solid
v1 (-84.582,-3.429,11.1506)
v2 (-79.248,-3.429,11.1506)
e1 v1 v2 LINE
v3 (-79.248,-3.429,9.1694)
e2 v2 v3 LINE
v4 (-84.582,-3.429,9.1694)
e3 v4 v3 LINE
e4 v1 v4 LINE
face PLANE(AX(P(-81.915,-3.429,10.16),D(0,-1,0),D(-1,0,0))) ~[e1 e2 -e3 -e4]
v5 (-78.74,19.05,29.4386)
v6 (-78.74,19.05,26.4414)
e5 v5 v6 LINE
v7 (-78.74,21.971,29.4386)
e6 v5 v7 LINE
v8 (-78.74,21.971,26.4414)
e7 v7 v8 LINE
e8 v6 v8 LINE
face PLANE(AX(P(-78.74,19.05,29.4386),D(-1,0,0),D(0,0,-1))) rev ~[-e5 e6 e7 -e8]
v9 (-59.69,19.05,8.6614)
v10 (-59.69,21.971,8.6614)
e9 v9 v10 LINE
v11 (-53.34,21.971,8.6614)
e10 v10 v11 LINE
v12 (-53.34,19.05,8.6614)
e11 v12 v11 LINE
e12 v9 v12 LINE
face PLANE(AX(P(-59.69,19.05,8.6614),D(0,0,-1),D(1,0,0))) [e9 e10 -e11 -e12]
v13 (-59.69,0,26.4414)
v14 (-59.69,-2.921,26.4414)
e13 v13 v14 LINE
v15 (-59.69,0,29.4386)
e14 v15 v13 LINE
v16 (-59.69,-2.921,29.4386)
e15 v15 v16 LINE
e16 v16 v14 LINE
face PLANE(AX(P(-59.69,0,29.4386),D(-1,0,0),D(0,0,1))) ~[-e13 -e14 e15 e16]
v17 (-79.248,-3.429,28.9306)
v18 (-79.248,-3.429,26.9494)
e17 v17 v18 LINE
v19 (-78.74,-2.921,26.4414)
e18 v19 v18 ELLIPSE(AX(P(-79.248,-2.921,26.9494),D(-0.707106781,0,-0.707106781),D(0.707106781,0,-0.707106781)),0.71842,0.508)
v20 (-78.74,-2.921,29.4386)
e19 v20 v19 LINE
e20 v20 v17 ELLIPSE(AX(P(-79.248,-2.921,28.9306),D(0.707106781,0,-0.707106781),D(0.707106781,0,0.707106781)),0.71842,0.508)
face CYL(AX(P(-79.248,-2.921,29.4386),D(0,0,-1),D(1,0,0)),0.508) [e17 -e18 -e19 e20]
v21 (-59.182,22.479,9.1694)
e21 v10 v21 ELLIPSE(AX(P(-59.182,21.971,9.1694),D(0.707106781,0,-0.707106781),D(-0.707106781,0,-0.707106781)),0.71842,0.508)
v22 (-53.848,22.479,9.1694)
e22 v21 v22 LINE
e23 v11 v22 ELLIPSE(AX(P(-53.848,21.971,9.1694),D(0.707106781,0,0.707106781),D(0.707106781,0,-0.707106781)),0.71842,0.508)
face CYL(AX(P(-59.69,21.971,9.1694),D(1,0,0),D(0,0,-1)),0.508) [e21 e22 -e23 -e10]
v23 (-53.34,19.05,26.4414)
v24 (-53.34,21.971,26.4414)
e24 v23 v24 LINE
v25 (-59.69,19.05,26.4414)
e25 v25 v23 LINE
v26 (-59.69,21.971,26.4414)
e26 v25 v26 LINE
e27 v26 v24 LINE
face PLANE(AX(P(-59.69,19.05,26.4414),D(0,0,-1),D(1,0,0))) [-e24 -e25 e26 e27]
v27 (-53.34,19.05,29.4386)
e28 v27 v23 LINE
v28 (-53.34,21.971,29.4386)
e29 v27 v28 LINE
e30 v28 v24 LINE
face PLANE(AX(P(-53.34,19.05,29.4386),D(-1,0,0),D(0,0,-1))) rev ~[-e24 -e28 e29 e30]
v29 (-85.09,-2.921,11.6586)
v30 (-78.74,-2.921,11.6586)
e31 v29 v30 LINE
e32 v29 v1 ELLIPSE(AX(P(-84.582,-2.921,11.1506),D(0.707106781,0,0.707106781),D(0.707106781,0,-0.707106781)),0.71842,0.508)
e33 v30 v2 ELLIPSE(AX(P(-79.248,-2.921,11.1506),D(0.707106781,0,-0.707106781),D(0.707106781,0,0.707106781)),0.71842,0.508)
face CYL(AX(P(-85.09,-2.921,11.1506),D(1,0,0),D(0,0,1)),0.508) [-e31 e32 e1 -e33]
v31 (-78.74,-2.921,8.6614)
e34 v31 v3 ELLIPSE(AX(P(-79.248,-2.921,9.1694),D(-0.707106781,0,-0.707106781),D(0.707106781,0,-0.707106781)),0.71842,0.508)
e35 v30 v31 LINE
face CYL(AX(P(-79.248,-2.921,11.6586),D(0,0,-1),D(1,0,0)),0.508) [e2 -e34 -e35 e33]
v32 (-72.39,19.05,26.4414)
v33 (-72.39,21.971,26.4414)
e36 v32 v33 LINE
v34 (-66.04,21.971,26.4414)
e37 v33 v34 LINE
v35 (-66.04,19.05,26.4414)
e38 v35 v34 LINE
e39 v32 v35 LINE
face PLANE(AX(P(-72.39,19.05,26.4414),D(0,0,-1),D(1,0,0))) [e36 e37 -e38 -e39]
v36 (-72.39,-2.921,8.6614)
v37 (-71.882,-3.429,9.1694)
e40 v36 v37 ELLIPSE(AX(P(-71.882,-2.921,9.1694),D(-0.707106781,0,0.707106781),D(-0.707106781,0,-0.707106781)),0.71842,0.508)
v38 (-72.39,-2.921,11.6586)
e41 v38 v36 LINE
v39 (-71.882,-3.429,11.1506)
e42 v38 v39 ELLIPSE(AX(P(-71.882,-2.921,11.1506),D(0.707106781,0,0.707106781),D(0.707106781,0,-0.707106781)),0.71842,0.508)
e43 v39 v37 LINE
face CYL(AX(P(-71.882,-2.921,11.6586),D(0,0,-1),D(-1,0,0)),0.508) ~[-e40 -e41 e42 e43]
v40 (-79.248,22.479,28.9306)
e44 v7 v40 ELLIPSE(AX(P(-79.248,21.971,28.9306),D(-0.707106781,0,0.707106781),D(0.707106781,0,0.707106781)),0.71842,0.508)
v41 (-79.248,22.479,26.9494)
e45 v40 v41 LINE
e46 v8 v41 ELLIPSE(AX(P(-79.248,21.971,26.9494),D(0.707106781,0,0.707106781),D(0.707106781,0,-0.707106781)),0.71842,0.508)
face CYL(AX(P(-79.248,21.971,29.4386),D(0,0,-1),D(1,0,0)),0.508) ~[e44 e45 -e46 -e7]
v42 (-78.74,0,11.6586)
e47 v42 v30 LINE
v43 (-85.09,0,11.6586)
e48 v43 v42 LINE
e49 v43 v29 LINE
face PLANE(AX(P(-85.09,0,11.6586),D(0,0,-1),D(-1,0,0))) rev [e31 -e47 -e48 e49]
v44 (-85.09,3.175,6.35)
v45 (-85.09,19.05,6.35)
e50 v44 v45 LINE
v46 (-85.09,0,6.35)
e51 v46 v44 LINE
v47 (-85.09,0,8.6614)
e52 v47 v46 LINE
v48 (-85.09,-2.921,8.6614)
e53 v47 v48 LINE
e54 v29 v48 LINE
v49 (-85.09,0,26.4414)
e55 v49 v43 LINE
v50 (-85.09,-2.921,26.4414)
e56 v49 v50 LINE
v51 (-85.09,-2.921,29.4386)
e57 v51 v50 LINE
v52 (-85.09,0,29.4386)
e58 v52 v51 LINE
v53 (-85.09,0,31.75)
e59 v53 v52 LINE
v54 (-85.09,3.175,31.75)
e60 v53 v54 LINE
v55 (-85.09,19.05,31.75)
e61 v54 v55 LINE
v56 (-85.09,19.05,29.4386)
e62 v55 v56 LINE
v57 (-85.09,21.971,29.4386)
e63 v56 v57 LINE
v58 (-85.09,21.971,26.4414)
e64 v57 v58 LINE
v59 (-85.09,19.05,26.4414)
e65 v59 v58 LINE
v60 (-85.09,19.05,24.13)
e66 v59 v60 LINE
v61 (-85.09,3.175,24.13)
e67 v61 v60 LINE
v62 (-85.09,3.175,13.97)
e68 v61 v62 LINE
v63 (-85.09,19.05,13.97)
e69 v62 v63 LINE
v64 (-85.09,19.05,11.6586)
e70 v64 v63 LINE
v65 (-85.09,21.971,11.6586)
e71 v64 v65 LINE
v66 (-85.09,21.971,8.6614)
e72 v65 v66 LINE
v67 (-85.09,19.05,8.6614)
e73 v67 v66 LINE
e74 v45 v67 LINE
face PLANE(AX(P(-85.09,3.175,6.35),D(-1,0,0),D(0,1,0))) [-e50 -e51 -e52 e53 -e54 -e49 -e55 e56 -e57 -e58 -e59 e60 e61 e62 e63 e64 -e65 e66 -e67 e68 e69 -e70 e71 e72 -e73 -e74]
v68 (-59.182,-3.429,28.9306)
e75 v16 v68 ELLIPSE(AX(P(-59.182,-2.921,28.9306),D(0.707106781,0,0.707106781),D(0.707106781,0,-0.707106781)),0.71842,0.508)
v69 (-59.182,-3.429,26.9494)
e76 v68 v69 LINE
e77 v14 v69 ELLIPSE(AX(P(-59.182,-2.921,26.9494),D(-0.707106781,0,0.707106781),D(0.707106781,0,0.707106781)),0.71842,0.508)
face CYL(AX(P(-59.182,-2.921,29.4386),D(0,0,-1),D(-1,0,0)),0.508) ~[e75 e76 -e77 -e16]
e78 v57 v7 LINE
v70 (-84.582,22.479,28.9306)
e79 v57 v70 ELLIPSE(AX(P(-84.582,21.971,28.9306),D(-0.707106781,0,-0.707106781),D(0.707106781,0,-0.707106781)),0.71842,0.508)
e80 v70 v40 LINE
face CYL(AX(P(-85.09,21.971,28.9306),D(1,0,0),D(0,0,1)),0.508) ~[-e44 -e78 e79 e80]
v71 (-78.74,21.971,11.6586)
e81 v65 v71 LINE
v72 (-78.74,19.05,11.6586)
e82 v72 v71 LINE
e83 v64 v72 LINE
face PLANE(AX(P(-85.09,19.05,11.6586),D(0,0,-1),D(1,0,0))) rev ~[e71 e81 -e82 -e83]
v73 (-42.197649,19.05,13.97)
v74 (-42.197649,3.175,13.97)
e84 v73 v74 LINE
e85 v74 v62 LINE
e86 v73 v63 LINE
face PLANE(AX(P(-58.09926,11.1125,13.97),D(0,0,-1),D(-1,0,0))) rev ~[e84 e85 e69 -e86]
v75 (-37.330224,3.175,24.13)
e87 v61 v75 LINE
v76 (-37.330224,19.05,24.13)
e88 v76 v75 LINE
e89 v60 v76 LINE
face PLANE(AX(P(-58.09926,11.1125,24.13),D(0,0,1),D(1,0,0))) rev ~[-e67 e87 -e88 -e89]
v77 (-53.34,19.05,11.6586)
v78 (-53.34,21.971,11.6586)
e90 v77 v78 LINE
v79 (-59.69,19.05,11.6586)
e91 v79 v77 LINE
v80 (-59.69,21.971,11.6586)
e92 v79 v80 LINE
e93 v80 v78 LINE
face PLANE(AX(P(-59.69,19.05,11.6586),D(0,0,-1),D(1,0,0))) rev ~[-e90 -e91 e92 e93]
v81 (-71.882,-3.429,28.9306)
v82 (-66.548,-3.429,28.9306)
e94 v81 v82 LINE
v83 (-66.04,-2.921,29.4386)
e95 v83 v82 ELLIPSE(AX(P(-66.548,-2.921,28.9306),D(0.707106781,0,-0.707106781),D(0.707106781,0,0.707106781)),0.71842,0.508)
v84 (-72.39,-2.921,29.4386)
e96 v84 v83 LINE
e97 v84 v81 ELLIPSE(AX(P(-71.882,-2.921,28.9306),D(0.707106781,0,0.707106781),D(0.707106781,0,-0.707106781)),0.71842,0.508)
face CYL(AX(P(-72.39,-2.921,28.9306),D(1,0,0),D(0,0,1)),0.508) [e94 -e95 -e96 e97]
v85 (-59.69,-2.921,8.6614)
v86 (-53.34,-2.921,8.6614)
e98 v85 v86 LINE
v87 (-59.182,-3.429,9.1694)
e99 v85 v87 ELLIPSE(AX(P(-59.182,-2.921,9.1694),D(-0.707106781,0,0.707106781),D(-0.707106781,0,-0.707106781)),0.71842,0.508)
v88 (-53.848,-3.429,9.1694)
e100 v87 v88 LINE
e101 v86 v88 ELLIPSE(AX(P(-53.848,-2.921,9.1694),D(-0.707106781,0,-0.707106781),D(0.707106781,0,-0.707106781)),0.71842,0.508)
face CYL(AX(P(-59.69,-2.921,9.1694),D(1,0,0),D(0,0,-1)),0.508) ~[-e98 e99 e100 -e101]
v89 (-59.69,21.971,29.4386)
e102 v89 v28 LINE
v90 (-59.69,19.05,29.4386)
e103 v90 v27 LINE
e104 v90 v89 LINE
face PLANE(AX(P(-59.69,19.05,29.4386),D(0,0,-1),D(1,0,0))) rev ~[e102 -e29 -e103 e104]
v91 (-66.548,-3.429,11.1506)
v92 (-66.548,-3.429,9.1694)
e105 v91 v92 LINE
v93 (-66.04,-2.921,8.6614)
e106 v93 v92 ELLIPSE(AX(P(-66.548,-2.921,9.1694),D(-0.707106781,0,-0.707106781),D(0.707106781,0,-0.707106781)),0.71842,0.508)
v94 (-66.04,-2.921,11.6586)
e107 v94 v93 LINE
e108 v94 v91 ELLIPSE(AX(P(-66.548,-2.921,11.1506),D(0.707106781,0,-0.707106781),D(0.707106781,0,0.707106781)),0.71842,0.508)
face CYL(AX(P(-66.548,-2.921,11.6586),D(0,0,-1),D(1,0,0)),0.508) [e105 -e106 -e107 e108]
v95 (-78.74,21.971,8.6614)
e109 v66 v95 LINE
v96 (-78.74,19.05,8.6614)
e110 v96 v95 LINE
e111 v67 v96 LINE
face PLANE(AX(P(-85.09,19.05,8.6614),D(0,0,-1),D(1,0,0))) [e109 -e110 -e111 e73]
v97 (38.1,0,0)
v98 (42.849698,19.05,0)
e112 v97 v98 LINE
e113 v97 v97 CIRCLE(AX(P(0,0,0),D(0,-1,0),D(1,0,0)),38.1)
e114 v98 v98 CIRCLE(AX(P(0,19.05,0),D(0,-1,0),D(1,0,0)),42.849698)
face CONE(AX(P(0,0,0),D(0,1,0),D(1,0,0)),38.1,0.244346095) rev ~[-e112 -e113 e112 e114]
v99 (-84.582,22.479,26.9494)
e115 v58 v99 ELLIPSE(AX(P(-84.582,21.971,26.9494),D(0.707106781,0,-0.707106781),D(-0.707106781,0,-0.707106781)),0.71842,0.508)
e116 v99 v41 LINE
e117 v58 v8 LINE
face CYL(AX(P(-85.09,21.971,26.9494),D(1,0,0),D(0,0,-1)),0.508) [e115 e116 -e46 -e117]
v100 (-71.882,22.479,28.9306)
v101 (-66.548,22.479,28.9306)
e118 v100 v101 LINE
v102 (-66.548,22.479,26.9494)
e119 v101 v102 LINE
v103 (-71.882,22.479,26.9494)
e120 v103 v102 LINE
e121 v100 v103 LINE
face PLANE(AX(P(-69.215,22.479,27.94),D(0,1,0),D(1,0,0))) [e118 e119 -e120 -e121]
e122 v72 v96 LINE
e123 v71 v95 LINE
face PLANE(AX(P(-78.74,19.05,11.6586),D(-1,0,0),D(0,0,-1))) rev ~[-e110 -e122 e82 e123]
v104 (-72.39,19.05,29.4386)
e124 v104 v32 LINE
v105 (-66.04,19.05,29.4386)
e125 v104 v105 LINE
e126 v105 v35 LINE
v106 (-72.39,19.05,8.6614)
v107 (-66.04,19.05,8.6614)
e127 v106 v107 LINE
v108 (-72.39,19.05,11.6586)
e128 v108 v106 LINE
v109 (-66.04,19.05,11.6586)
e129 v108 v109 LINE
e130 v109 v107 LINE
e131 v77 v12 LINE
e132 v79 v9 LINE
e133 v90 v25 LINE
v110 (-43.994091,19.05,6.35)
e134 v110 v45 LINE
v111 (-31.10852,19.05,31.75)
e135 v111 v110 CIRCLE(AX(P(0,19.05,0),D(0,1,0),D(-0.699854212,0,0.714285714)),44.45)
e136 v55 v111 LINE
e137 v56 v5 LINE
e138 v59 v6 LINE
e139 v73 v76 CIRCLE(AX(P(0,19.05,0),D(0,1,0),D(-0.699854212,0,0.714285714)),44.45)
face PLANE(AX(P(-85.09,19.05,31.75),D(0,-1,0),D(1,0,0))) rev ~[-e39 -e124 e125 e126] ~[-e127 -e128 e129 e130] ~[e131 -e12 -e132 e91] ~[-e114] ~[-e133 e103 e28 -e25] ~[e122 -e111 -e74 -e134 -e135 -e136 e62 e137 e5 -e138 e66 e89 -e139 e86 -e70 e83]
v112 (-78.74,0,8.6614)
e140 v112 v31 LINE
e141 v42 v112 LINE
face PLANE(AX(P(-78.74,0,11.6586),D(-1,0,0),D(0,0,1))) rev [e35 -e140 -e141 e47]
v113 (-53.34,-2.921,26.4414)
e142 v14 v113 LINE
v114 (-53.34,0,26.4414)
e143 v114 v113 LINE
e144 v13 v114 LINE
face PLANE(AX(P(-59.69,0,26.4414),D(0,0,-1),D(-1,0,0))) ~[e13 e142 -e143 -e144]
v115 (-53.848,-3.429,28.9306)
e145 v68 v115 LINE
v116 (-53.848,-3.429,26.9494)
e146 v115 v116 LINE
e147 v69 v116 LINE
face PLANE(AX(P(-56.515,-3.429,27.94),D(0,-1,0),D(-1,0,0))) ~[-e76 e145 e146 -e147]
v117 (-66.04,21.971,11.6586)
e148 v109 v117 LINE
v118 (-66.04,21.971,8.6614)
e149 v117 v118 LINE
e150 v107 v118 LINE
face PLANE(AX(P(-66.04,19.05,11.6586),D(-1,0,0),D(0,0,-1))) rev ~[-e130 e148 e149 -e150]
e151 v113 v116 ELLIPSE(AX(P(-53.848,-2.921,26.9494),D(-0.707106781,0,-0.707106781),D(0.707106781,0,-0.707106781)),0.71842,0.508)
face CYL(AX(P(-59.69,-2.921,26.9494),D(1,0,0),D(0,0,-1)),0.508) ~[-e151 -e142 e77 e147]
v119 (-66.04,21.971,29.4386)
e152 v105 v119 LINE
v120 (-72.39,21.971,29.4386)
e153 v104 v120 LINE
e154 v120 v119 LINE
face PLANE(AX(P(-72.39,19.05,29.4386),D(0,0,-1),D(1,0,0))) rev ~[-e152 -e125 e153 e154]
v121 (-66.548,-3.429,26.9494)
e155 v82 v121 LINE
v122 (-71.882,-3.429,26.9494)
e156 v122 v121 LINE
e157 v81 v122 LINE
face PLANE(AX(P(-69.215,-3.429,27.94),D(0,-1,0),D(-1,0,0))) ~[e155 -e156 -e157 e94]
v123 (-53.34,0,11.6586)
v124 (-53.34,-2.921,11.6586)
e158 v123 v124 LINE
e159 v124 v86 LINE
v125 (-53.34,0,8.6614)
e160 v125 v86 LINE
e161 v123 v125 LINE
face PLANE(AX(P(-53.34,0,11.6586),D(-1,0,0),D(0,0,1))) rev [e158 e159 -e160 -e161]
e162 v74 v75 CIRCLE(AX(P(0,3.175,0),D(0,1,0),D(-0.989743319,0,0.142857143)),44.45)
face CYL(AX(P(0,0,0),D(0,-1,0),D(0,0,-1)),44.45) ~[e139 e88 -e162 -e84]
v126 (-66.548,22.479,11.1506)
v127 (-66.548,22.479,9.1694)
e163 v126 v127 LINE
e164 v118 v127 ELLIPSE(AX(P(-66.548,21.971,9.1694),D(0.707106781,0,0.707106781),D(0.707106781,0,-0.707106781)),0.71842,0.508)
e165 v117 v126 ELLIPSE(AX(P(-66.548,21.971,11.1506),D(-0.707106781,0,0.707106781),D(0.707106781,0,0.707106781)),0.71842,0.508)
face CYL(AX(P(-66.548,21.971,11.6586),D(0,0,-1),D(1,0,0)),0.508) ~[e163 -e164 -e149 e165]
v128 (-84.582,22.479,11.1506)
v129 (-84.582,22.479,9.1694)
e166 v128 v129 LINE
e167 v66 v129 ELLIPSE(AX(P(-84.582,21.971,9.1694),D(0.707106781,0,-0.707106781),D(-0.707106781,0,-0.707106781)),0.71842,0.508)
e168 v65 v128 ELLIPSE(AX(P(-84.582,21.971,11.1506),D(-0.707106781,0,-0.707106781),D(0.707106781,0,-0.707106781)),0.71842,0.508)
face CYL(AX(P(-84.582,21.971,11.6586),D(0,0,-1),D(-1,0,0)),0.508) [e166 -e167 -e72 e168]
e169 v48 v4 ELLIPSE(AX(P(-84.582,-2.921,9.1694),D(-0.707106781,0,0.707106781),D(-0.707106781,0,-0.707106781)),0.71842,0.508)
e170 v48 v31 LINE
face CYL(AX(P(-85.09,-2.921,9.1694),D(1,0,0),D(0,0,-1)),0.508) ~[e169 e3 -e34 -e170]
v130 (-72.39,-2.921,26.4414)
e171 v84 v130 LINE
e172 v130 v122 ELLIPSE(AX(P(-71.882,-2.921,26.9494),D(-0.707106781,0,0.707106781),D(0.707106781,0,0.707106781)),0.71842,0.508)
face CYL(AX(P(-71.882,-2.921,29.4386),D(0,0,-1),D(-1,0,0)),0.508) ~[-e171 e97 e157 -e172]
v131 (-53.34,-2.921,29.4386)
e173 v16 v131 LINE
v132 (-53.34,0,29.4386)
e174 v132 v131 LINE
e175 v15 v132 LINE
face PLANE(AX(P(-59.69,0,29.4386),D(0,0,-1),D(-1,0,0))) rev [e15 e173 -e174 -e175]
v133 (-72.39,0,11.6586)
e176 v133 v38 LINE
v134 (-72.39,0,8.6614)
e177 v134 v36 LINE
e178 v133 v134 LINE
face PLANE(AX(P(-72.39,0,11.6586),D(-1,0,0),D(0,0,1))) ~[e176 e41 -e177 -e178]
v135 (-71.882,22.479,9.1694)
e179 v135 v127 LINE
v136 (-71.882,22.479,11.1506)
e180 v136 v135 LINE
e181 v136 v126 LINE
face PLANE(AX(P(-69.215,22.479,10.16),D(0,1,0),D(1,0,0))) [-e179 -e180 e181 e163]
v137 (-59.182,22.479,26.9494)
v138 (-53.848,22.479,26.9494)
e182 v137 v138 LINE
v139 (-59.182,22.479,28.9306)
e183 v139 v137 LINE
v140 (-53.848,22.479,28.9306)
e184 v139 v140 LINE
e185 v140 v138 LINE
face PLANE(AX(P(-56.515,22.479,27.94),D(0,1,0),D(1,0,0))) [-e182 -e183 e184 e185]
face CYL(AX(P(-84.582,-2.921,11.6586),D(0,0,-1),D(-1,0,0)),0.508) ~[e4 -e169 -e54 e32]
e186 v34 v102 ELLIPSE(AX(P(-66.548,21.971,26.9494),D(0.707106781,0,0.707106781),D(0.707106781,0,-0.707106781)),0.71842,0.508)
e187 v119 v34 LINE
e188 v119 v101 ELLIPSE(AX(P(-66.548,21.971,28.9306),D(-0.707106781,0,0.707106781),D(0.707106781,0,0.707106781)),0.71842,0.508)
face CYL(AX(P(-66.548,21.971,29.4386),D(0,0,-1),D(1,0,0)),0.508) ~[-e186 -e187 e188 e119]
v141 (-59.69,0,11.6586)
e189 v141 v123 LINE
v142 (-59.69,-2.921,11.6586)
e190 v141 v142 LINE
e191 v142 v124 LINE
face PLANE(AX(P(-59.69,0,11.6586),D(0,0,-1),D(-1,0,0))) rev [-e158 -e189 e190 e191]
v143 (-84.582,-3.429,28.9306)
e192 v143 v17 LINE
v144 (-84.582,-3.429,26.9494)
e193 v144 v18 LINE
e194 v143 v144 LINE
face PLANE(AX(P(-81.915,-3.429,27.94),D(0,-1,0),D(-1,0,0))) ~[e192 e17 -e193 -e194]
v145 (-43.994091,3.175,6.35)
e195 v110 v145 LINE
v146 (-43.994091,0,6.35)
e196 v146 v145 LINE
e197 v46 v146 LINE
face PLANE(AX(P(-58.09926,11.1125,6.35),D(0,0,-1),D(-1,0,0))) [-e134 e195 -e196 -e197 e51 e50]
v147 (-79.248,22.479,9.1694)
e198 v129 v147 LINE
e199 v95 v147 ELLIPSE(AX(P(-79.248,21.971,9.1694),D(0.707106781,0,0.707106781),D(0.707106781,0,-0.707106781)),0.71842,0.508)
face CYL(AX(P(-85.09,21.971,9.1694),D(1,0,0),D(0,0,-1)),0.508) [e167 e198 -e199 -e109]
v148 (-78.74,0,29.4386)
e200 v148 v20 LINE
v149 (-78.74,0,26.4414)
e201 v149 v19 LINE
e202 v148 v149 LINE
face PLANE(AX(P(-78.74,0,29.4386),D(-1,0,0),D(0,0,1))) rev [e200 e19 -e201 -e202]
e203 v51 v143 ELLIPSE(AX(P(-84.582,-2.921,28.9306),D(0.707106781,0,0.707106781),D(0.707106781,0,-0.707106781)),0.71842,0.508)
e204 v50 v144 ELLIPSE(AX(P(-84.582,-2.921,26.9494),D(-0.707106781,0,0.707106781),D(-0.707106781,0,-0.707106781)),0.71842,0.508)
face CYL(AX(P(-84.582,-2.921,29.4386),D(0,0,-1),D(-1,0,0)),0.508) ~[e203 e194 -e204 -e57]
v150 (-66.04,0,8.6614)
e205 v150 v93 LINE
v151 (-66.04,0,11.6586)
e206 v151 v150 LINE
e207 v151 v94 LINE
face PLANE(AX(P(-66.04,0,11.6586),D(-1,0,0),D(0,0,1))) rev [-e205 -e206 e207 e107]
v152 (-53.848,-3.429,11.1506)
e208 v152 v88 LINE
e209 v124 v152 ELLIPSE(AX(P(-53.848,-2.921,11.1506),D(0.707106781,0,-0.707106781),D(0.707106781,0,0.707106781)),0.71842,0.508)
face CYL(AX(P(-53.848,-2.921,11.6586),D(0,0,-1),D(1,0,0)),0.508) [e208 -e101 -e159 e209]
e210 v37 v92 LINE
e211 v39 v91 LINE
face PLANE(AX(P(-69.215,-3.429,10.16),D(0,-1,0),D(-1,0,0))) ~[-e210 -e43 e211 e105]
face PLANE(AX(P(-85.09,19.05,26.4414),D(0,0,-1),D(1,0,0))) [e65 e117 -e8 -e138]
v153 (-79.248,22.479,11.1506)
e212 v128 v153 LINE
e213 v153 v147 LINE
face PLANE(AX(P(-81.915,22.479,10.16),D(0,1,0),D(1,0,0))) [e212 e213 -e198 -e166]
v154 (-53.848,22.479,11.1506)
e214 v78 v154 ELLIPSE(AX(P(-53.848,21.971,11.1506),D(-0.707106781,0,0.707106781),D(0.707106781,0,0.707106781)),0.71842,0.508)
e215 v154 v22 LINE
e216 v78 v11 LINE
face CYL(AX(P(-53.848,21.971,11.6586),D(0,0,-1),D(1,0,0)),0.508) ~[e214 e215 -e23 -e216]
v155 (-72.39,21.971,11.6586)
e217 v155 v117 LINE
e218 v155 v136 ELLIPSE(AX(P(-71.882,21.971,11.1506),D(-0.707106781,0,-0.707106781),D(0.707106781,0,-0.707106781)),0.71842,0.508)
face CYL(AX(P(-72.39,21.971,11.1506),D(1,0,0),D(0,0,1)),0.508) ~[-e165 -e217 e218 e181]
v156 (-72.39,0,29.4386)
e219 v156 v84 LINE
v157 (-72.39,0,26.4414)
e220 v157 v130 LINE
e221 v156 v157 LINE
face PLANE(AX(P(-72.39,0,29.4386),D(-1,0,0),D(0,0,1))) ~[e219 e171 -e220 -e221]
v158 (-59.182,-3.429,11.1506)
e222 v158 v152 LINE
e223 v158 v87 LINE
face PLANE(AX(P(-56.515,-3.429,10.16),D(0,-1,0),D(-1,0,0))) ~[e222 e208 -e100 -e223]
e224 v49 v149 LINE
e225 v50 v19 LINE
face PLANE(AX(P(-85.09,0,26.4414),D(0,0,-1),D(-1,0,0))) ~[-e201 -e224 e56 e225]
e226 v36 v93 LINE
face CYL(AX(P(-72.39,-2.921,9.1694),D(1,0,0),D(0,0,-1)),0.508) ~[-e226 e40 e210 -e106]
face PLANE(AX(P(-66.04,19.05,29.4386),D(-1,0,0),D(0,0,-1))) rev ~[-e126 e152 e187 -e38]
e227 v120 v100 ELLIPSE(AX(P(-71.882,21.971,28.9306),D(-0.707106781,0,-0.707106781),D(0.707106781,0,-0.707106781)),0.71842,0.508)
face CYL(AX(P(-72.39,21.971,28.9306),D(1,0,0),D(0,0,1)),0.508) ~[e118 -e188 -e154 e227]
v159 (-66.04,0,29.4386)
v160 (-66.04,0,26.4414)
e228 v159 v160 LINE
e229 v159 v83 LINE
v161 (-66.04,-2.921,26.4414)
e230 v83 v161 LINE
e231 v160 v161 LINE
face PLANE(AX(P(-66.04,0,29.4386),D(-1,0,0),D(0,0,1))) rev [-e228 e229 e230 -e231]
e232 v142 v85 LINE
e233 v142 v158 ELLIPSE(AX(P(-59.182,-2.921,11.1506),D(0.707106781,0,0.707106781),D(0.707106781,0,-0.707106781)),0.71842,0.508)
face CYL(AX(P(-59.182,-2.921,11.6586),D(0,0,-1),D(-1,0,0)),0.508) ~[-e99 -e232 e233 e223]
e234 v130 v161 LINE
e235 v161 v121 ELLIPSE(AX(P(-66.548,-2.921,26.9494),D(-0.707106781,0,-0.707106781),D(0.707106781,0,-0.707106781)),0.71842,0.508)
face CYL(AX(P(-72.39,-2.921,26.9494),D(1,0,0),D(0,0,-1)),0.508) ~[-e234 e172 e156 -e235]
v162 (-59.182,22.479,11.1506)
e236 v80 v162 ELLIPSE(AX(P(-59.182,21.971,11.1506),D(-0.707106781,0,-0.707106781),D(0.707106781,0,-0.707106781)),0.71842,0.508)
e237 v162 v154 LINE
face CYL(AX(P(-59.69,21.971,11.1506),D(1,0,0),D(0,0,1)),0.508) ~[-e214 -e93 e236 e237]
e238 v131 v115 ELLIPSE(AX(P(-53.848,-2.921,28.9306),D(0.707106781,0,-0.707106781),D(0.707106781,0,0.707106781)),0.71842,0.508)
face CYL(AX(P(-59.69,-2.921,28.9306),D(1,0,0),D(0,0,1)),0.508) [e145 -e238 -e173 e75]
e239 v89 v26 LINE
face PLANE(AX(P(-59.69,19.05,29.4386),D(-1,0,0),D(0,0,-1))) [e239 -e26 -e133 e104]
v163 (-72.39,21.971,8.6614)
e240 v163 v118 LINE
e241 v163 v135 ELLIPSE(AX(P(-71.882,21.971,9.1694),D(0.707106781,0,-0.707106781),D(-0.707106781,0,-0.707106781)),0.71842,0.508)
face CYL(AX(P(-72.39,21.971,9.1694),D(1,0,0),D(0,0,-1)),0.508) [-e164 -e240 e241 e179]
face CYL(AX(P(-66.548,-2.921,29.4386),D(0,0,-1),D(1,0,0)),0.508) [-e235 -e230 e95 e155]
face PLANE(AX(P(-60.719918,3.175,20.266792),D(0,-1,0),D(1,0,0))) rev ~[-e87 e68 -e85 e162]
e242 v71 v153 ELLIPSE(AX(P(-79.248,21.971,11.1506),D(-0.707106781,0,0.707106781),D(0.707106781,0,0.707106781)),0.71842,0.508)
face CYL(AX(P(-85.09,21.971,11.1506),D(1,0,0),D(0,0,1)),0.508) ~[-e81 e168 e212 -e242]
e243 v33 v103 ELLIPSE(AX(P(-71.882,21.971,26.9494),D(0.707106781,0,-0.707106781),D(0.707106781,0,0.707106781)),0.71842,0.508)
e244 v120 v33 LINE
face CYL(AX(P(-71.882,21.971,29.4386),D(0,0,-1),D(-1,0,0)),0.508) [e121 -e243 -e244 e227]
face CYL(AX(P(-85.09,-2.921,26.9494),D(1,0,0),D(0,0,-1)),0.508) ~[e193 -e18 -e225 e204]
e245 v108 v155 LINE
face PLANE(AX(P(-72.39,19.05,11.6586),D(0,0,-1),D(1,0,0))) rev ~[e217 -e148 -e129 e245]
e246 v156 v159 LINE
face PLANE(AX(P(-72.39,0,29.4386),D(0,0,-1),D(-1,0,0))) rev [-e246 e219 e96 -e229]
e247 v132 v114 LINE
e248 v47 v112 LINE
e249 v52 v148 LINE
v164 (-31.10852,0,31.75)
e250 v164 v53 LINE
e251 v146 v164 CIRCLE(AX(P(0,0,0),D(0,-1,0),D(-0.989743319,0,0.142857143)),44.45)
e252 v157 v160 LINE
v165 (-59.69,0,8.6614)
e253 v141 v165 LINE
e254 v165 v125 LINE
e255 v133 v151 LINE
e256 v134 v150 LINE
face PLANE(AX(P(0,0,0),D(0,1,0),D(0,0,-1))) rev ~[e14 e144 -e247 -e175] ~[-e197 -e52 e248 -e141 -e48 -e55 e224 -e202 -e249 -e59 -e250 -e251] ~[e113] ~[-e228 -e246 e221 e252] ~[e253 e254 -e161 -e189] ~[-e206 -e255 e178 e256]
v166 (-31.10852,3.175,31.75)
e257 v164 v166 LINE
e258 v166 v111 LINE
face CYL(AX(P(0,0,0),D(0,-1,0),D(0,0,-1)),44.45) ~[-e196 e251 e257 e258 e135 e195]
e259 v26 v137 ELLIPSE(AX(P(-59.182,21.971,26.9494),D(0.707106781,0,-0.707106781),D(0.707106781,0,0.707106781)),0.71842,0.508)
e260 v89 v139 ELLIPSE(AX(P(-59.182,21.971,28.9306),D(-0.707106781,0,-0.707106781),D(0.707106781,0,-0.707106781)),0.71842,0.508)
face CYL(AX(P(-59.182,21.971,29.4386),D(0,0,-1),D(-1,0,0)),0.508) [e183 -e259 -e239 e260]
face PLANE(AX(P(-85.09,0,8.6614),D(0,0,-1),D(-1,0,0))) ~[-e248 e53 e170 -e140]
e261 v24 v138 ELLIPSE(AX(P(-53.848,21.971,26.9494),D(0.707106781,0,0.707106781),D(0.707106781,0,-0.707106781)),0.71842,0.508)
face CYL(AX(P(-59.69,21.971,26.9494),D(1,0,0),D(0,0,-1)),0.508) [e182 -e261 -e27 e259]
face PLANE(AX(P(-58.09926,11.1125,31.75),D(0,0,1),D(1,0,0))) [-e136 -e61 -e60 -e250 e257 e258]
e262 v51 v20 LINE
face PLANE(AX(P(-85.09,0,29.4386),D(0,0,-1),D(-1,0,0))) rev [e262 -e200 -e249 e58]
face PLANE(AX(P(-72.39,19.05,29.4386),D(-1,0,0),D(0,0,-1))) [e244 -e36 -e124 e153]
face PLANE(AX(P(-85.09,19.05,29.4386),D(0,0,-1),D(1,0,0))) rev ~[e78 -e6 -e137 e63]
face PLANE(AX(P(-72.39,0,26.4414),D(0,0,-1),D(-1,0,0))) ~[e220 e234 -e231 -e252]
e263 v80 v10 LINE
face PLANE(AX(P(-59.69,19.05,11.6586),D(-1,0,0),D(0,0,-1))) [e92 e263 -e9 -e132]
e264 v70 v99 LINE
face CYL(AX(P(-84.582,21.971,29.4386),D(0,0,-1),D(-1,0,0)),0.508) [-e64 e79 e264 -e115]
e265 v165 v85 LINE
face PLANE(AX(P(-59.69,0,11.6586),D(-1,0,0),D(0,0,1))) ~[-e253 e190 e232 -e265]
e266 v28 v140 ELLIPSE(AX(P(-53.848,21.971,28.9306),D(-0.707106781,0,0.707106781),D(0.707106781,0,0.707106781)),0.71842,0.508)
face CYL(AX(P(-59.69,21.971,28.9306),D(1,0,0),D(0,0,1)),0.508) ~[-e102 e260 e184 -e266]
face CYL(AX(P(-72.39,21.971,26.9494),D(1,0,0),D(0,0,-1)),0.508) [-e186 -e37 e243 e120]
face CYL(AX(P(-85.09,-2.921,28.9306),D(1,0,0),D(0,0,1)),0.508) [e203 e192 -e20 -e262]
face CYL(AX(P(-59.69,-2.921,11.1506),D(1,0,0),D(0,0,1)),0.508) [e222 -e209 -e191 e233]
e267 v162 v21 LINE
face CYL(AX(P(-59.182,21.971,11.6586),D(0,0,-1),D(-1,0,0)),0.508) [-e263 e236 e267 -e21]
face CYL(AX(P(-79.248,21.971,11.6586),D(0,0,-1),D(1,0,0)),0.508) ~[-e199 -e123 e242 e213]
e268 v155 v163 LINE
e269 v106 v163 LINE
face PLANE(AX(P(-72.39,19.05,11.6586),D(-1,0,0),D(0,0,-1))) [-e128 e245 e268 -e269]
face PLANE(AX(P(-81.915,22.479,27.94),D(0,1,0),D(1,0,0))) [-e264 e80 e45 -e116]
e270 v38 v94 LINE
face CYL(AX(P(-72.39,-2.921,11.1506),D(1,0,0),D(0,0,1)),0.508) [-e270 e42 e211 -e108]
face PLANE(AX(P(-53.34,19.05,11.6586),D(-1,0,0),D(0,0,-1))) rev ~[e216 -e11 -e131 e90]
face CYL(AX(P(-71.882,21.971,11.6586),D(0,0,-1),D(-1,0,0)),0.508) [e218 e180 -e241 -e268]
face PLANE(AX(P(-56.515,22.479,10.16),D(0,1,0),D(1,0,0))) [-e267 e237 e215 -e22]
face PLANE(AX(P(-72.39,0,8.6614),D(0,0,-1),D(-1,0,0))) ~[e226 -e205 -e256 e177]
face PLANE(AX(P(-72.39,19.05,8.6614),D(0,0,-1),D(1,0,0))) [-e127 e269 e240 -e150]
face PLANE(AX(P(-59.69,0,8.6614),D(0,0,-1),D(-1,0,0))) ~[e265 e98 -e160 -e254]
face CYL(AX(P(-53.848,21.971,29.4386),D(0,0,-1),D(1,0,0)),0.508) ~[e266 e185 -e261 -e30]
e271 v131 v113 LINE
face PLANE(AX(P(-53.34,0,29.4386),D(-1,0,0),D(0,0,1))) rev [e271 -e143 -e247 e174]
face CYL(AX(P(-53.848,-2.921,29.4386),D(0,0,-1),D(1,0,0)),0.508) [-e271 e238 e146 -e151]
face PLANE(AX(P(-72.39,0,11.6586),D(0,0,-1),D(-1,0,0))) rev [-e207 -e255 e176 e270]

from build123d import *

# Parameters (mm, degrees)
SKETCH1_R            = 44.45
BOSS_EXTRUDE1_DEPTH  = 19.05
BOSS_EXTRUDE2_DEPTH  = 3.175
SKETCH4_W            = 53.981480267
SKETCH4_H            = 15.875
BOSS_EXTRUDE3_DEPTH  = 7.62
SKETCH5_W            = 53.981480267
SKETCH5_H            = 15.875
BOSS_EXTRUDE4_DEPTH  = 7.62
SKETCH2_R            = 38.1
CUT_EXTRUDE1_DEPTH   = 98.872432789
CUT_EXTRUDE1_DRAFT   = 14
SKETCH6_W            = 6.35
SKETCH6_H            = 2.9972
BOSS_EXTRUDE5_DEPTH  = 3.429
FILLET1_R            = 0.508
FILLET1_OF_MIRROR1_R = 0.508


with BuildPart() as part:
    # Sketch1 → Boss-Extrude1 (new body)
    with BuildSketch(Plane(origin=(0, 0, 0), x_dir=(1, 0, 0), z_dir=(0, 1, 0))):
        with Locations(Location((0, 0, 0), (0, 0, 90))):
            Circle(SKETCH1_R)
    extrude(amount=BOSS_EXTRUDE1_DEPTH)

    # Sketch3 → Boss-Extrude2 (add)
    with BuildSketch(Plane.XZ):
        with BuildLine():
            Line((-31.108519733, 31.75), (-85.09, 31.75))
            Line((-85.09, 31.75), (-85.09, 6.35))
            Line((-85.09, 6.35), (-43.994090512, 6.35))
            ThreePointArc((-43.994090512, 6.35), (-39.640768363, 20.109997105), (-31.108519733, 31.75))
        make_face()
    extrude(amount=-BOSS_EXTRUDE2_DEPTH)

    # Sketch4 → Boss-Extrude3 (add)
    with BuildSketch(Plane.XY.offset(31.75)):
        with Locations((-58.099259867, 11.1125)):
            Rectangle(SKETCH4_W, SKETCH4_H)
    extrude(amount=-BOSS_EXTRUDE3_DEPTH)

    # Sketch5 → Boss-Extrude4 (add)
    with BuildSketch(Plane(origin=(0, 0, 6.35), x_dir=(-1, 0, 0), z_dir=(0, 0, -1))):
        with Locations((58.099259867, 11.1125)):
            Rectangle(SKETCH5_W, SKETCH5_H)
    extrude(amount=-BOSS_EXTRUDE4_DEPTH)


with BuildPart() as cut_extrude1_tool:
    # Sketch2 → Cut-Extrude1 (with draft: the straight prism first)
    with BuildSketch(Plane.XZ):
        Circle(SKETCH2_R)
    extrude(amount=-CUT_EXTRUDE1_DEPTH)
    # Cut-Extrude1: the draft: its side faces are tilted about the plane it starts from
    cut_extrude1_sides = [cut_extrude1_tool.faces().sort_by_distance(p)[0] for p in [
        (-38.1, 49.436216394, 0),
    ]]
    draft(cut_extrude1_sides, Plane.XZ, CUT_EXTRUDE1_DRAFT)


with BuildPart() as part_1:
    add(part.part)

    # Cut-Extrude1: cut by cut_extrude1_tool
    add(cut_extrude1_tool.part, mode=Mode.SUBTRACT)

    # Sketch6 → Boss-Extrude5 (add)
    with BuildSketch(Plane(origin=(0, 19.05, 0), x_dir=(1, 0, 0), z_dir=(0, 1, 0))):
        with Locations((-81.915, -27.94)):
            Rectangle(SKETCH6_W, SKETCH6_H)
        with Locations((-69.215, -27.94)):
            Rectangle(SKETCH6_W, SKETCH6_H)
        with Locations((-56.515, -27.94)):
            Rectangle(SKETCH6_W, SKETCH6_H)
        with Locations((-56.515, -10.16)):
            Rectangle(SKETCH6_W, SKETCH6_H)
        with Locations((-69.215, -10.16)):
            Rectangle(SKETCH6_W, SKETCH6_H)
        with Locations((-81.915, -10.16)):
            Rectangle(SKETCH6_W, SKETCH6_H)
    boss_extrude5 = extrude(amount=BOSS_EXTRUDE5_DEPTH)

    # Fillet1
    fillet1_edges = [part_1.edges().sort_by_distance(p)[0] for p in [
        (-69.215, 22.479, 29.4386),
        (-66.04, 22.479, 27.94),
        (-69.215, 22.479, 26.4414),
        (-72.39, 22.479, 27.94),
        (-85.09, 22.479, 27.94),
        (-81.915, 22.479, 29.4386),
        (-78.74, 22.479, 27.94),
        (-81.915, 22.479, 26.4414),
        (-85.09, 22.479, 10.16),
        (-81.915, 22.479, 11.6586),
        (-78.74, 22.479, 10.16),
        (-81.915, 22.479, 8.6614),
        (-72.39, 22.479, 10.16),
        (-69.215, 22.479, 11.6586),
        (-66.04, 22.479, 10.16),
        (-69.215, 22.479, 8.6614),
        (-59.69, 22.479, 10.16),
        (-56.515, 22.479, 11.6586),
        (-53.34, 22.479, 10.16),
        (-56.515, 22.479, 8.6614),
        (-56.515, 22.479, 29.4386),
        (-53.34, 22.479, 27.94),
        (-56.515, 22.479, 26.4414),
        (-59.69, 22.479, 27.94),
    ]]
    fillet(fillet1_edges, radius=FILLET1_R)

    # Mirror1: Boss-Extrude5 across plane
    add(boss_extrude5.mirror(Plane.ZX.offset(9.525)))

    # Fillet1 of Mirror1
    fillet1_of_mirror1_edges = [part_1.edges().sort_by_distance(p)[0] for p in [
        (-69.215, -3.429, 29.4386),
        (-66.04, -3.429, 27.94),
        (-69.215, -3.429, 26.4414),
        (-72.39, -3.429, 27.94),
        (-85.09, -3.429, 27.94),
        (-81.915, -3.429, 29.4386),
        (-78.74, -3.429, 27.94),
        (-81.915, -3.429, 26.4414),
        (-85.09, -3.429, 10.16),
        (-81.915, -3.429, 11.6586),
        (-78.74, -3.429, 10.16),
        (-81.915, -3.429, 8.6614),
        (-72.39, -3.429, 10.16),
        (-69.215, -3.429, 11.6586),
        (-66.04, -3.429, 10.16),
        (-69.215, -3.429, 8.6614),
        (-59.69, -3.429, 10.16),
        (-56.515, -3.429, 11.6586),
        (-53.34, -3.429, 10.16),
        (-56.515, -3.429, 8.6614),
        (-56.515, -3.429, 29.4386),
        (-53.34, -3.429, 27.94),
        (-56.515, -3.429, 26.4414),
        (-59.69, -3.429, 27.94),
    ]]
    fillet(fillet1_of_mirror1_edges, radius=FILLET1_OF_MIRROR1_R)


solid = part_1.part
